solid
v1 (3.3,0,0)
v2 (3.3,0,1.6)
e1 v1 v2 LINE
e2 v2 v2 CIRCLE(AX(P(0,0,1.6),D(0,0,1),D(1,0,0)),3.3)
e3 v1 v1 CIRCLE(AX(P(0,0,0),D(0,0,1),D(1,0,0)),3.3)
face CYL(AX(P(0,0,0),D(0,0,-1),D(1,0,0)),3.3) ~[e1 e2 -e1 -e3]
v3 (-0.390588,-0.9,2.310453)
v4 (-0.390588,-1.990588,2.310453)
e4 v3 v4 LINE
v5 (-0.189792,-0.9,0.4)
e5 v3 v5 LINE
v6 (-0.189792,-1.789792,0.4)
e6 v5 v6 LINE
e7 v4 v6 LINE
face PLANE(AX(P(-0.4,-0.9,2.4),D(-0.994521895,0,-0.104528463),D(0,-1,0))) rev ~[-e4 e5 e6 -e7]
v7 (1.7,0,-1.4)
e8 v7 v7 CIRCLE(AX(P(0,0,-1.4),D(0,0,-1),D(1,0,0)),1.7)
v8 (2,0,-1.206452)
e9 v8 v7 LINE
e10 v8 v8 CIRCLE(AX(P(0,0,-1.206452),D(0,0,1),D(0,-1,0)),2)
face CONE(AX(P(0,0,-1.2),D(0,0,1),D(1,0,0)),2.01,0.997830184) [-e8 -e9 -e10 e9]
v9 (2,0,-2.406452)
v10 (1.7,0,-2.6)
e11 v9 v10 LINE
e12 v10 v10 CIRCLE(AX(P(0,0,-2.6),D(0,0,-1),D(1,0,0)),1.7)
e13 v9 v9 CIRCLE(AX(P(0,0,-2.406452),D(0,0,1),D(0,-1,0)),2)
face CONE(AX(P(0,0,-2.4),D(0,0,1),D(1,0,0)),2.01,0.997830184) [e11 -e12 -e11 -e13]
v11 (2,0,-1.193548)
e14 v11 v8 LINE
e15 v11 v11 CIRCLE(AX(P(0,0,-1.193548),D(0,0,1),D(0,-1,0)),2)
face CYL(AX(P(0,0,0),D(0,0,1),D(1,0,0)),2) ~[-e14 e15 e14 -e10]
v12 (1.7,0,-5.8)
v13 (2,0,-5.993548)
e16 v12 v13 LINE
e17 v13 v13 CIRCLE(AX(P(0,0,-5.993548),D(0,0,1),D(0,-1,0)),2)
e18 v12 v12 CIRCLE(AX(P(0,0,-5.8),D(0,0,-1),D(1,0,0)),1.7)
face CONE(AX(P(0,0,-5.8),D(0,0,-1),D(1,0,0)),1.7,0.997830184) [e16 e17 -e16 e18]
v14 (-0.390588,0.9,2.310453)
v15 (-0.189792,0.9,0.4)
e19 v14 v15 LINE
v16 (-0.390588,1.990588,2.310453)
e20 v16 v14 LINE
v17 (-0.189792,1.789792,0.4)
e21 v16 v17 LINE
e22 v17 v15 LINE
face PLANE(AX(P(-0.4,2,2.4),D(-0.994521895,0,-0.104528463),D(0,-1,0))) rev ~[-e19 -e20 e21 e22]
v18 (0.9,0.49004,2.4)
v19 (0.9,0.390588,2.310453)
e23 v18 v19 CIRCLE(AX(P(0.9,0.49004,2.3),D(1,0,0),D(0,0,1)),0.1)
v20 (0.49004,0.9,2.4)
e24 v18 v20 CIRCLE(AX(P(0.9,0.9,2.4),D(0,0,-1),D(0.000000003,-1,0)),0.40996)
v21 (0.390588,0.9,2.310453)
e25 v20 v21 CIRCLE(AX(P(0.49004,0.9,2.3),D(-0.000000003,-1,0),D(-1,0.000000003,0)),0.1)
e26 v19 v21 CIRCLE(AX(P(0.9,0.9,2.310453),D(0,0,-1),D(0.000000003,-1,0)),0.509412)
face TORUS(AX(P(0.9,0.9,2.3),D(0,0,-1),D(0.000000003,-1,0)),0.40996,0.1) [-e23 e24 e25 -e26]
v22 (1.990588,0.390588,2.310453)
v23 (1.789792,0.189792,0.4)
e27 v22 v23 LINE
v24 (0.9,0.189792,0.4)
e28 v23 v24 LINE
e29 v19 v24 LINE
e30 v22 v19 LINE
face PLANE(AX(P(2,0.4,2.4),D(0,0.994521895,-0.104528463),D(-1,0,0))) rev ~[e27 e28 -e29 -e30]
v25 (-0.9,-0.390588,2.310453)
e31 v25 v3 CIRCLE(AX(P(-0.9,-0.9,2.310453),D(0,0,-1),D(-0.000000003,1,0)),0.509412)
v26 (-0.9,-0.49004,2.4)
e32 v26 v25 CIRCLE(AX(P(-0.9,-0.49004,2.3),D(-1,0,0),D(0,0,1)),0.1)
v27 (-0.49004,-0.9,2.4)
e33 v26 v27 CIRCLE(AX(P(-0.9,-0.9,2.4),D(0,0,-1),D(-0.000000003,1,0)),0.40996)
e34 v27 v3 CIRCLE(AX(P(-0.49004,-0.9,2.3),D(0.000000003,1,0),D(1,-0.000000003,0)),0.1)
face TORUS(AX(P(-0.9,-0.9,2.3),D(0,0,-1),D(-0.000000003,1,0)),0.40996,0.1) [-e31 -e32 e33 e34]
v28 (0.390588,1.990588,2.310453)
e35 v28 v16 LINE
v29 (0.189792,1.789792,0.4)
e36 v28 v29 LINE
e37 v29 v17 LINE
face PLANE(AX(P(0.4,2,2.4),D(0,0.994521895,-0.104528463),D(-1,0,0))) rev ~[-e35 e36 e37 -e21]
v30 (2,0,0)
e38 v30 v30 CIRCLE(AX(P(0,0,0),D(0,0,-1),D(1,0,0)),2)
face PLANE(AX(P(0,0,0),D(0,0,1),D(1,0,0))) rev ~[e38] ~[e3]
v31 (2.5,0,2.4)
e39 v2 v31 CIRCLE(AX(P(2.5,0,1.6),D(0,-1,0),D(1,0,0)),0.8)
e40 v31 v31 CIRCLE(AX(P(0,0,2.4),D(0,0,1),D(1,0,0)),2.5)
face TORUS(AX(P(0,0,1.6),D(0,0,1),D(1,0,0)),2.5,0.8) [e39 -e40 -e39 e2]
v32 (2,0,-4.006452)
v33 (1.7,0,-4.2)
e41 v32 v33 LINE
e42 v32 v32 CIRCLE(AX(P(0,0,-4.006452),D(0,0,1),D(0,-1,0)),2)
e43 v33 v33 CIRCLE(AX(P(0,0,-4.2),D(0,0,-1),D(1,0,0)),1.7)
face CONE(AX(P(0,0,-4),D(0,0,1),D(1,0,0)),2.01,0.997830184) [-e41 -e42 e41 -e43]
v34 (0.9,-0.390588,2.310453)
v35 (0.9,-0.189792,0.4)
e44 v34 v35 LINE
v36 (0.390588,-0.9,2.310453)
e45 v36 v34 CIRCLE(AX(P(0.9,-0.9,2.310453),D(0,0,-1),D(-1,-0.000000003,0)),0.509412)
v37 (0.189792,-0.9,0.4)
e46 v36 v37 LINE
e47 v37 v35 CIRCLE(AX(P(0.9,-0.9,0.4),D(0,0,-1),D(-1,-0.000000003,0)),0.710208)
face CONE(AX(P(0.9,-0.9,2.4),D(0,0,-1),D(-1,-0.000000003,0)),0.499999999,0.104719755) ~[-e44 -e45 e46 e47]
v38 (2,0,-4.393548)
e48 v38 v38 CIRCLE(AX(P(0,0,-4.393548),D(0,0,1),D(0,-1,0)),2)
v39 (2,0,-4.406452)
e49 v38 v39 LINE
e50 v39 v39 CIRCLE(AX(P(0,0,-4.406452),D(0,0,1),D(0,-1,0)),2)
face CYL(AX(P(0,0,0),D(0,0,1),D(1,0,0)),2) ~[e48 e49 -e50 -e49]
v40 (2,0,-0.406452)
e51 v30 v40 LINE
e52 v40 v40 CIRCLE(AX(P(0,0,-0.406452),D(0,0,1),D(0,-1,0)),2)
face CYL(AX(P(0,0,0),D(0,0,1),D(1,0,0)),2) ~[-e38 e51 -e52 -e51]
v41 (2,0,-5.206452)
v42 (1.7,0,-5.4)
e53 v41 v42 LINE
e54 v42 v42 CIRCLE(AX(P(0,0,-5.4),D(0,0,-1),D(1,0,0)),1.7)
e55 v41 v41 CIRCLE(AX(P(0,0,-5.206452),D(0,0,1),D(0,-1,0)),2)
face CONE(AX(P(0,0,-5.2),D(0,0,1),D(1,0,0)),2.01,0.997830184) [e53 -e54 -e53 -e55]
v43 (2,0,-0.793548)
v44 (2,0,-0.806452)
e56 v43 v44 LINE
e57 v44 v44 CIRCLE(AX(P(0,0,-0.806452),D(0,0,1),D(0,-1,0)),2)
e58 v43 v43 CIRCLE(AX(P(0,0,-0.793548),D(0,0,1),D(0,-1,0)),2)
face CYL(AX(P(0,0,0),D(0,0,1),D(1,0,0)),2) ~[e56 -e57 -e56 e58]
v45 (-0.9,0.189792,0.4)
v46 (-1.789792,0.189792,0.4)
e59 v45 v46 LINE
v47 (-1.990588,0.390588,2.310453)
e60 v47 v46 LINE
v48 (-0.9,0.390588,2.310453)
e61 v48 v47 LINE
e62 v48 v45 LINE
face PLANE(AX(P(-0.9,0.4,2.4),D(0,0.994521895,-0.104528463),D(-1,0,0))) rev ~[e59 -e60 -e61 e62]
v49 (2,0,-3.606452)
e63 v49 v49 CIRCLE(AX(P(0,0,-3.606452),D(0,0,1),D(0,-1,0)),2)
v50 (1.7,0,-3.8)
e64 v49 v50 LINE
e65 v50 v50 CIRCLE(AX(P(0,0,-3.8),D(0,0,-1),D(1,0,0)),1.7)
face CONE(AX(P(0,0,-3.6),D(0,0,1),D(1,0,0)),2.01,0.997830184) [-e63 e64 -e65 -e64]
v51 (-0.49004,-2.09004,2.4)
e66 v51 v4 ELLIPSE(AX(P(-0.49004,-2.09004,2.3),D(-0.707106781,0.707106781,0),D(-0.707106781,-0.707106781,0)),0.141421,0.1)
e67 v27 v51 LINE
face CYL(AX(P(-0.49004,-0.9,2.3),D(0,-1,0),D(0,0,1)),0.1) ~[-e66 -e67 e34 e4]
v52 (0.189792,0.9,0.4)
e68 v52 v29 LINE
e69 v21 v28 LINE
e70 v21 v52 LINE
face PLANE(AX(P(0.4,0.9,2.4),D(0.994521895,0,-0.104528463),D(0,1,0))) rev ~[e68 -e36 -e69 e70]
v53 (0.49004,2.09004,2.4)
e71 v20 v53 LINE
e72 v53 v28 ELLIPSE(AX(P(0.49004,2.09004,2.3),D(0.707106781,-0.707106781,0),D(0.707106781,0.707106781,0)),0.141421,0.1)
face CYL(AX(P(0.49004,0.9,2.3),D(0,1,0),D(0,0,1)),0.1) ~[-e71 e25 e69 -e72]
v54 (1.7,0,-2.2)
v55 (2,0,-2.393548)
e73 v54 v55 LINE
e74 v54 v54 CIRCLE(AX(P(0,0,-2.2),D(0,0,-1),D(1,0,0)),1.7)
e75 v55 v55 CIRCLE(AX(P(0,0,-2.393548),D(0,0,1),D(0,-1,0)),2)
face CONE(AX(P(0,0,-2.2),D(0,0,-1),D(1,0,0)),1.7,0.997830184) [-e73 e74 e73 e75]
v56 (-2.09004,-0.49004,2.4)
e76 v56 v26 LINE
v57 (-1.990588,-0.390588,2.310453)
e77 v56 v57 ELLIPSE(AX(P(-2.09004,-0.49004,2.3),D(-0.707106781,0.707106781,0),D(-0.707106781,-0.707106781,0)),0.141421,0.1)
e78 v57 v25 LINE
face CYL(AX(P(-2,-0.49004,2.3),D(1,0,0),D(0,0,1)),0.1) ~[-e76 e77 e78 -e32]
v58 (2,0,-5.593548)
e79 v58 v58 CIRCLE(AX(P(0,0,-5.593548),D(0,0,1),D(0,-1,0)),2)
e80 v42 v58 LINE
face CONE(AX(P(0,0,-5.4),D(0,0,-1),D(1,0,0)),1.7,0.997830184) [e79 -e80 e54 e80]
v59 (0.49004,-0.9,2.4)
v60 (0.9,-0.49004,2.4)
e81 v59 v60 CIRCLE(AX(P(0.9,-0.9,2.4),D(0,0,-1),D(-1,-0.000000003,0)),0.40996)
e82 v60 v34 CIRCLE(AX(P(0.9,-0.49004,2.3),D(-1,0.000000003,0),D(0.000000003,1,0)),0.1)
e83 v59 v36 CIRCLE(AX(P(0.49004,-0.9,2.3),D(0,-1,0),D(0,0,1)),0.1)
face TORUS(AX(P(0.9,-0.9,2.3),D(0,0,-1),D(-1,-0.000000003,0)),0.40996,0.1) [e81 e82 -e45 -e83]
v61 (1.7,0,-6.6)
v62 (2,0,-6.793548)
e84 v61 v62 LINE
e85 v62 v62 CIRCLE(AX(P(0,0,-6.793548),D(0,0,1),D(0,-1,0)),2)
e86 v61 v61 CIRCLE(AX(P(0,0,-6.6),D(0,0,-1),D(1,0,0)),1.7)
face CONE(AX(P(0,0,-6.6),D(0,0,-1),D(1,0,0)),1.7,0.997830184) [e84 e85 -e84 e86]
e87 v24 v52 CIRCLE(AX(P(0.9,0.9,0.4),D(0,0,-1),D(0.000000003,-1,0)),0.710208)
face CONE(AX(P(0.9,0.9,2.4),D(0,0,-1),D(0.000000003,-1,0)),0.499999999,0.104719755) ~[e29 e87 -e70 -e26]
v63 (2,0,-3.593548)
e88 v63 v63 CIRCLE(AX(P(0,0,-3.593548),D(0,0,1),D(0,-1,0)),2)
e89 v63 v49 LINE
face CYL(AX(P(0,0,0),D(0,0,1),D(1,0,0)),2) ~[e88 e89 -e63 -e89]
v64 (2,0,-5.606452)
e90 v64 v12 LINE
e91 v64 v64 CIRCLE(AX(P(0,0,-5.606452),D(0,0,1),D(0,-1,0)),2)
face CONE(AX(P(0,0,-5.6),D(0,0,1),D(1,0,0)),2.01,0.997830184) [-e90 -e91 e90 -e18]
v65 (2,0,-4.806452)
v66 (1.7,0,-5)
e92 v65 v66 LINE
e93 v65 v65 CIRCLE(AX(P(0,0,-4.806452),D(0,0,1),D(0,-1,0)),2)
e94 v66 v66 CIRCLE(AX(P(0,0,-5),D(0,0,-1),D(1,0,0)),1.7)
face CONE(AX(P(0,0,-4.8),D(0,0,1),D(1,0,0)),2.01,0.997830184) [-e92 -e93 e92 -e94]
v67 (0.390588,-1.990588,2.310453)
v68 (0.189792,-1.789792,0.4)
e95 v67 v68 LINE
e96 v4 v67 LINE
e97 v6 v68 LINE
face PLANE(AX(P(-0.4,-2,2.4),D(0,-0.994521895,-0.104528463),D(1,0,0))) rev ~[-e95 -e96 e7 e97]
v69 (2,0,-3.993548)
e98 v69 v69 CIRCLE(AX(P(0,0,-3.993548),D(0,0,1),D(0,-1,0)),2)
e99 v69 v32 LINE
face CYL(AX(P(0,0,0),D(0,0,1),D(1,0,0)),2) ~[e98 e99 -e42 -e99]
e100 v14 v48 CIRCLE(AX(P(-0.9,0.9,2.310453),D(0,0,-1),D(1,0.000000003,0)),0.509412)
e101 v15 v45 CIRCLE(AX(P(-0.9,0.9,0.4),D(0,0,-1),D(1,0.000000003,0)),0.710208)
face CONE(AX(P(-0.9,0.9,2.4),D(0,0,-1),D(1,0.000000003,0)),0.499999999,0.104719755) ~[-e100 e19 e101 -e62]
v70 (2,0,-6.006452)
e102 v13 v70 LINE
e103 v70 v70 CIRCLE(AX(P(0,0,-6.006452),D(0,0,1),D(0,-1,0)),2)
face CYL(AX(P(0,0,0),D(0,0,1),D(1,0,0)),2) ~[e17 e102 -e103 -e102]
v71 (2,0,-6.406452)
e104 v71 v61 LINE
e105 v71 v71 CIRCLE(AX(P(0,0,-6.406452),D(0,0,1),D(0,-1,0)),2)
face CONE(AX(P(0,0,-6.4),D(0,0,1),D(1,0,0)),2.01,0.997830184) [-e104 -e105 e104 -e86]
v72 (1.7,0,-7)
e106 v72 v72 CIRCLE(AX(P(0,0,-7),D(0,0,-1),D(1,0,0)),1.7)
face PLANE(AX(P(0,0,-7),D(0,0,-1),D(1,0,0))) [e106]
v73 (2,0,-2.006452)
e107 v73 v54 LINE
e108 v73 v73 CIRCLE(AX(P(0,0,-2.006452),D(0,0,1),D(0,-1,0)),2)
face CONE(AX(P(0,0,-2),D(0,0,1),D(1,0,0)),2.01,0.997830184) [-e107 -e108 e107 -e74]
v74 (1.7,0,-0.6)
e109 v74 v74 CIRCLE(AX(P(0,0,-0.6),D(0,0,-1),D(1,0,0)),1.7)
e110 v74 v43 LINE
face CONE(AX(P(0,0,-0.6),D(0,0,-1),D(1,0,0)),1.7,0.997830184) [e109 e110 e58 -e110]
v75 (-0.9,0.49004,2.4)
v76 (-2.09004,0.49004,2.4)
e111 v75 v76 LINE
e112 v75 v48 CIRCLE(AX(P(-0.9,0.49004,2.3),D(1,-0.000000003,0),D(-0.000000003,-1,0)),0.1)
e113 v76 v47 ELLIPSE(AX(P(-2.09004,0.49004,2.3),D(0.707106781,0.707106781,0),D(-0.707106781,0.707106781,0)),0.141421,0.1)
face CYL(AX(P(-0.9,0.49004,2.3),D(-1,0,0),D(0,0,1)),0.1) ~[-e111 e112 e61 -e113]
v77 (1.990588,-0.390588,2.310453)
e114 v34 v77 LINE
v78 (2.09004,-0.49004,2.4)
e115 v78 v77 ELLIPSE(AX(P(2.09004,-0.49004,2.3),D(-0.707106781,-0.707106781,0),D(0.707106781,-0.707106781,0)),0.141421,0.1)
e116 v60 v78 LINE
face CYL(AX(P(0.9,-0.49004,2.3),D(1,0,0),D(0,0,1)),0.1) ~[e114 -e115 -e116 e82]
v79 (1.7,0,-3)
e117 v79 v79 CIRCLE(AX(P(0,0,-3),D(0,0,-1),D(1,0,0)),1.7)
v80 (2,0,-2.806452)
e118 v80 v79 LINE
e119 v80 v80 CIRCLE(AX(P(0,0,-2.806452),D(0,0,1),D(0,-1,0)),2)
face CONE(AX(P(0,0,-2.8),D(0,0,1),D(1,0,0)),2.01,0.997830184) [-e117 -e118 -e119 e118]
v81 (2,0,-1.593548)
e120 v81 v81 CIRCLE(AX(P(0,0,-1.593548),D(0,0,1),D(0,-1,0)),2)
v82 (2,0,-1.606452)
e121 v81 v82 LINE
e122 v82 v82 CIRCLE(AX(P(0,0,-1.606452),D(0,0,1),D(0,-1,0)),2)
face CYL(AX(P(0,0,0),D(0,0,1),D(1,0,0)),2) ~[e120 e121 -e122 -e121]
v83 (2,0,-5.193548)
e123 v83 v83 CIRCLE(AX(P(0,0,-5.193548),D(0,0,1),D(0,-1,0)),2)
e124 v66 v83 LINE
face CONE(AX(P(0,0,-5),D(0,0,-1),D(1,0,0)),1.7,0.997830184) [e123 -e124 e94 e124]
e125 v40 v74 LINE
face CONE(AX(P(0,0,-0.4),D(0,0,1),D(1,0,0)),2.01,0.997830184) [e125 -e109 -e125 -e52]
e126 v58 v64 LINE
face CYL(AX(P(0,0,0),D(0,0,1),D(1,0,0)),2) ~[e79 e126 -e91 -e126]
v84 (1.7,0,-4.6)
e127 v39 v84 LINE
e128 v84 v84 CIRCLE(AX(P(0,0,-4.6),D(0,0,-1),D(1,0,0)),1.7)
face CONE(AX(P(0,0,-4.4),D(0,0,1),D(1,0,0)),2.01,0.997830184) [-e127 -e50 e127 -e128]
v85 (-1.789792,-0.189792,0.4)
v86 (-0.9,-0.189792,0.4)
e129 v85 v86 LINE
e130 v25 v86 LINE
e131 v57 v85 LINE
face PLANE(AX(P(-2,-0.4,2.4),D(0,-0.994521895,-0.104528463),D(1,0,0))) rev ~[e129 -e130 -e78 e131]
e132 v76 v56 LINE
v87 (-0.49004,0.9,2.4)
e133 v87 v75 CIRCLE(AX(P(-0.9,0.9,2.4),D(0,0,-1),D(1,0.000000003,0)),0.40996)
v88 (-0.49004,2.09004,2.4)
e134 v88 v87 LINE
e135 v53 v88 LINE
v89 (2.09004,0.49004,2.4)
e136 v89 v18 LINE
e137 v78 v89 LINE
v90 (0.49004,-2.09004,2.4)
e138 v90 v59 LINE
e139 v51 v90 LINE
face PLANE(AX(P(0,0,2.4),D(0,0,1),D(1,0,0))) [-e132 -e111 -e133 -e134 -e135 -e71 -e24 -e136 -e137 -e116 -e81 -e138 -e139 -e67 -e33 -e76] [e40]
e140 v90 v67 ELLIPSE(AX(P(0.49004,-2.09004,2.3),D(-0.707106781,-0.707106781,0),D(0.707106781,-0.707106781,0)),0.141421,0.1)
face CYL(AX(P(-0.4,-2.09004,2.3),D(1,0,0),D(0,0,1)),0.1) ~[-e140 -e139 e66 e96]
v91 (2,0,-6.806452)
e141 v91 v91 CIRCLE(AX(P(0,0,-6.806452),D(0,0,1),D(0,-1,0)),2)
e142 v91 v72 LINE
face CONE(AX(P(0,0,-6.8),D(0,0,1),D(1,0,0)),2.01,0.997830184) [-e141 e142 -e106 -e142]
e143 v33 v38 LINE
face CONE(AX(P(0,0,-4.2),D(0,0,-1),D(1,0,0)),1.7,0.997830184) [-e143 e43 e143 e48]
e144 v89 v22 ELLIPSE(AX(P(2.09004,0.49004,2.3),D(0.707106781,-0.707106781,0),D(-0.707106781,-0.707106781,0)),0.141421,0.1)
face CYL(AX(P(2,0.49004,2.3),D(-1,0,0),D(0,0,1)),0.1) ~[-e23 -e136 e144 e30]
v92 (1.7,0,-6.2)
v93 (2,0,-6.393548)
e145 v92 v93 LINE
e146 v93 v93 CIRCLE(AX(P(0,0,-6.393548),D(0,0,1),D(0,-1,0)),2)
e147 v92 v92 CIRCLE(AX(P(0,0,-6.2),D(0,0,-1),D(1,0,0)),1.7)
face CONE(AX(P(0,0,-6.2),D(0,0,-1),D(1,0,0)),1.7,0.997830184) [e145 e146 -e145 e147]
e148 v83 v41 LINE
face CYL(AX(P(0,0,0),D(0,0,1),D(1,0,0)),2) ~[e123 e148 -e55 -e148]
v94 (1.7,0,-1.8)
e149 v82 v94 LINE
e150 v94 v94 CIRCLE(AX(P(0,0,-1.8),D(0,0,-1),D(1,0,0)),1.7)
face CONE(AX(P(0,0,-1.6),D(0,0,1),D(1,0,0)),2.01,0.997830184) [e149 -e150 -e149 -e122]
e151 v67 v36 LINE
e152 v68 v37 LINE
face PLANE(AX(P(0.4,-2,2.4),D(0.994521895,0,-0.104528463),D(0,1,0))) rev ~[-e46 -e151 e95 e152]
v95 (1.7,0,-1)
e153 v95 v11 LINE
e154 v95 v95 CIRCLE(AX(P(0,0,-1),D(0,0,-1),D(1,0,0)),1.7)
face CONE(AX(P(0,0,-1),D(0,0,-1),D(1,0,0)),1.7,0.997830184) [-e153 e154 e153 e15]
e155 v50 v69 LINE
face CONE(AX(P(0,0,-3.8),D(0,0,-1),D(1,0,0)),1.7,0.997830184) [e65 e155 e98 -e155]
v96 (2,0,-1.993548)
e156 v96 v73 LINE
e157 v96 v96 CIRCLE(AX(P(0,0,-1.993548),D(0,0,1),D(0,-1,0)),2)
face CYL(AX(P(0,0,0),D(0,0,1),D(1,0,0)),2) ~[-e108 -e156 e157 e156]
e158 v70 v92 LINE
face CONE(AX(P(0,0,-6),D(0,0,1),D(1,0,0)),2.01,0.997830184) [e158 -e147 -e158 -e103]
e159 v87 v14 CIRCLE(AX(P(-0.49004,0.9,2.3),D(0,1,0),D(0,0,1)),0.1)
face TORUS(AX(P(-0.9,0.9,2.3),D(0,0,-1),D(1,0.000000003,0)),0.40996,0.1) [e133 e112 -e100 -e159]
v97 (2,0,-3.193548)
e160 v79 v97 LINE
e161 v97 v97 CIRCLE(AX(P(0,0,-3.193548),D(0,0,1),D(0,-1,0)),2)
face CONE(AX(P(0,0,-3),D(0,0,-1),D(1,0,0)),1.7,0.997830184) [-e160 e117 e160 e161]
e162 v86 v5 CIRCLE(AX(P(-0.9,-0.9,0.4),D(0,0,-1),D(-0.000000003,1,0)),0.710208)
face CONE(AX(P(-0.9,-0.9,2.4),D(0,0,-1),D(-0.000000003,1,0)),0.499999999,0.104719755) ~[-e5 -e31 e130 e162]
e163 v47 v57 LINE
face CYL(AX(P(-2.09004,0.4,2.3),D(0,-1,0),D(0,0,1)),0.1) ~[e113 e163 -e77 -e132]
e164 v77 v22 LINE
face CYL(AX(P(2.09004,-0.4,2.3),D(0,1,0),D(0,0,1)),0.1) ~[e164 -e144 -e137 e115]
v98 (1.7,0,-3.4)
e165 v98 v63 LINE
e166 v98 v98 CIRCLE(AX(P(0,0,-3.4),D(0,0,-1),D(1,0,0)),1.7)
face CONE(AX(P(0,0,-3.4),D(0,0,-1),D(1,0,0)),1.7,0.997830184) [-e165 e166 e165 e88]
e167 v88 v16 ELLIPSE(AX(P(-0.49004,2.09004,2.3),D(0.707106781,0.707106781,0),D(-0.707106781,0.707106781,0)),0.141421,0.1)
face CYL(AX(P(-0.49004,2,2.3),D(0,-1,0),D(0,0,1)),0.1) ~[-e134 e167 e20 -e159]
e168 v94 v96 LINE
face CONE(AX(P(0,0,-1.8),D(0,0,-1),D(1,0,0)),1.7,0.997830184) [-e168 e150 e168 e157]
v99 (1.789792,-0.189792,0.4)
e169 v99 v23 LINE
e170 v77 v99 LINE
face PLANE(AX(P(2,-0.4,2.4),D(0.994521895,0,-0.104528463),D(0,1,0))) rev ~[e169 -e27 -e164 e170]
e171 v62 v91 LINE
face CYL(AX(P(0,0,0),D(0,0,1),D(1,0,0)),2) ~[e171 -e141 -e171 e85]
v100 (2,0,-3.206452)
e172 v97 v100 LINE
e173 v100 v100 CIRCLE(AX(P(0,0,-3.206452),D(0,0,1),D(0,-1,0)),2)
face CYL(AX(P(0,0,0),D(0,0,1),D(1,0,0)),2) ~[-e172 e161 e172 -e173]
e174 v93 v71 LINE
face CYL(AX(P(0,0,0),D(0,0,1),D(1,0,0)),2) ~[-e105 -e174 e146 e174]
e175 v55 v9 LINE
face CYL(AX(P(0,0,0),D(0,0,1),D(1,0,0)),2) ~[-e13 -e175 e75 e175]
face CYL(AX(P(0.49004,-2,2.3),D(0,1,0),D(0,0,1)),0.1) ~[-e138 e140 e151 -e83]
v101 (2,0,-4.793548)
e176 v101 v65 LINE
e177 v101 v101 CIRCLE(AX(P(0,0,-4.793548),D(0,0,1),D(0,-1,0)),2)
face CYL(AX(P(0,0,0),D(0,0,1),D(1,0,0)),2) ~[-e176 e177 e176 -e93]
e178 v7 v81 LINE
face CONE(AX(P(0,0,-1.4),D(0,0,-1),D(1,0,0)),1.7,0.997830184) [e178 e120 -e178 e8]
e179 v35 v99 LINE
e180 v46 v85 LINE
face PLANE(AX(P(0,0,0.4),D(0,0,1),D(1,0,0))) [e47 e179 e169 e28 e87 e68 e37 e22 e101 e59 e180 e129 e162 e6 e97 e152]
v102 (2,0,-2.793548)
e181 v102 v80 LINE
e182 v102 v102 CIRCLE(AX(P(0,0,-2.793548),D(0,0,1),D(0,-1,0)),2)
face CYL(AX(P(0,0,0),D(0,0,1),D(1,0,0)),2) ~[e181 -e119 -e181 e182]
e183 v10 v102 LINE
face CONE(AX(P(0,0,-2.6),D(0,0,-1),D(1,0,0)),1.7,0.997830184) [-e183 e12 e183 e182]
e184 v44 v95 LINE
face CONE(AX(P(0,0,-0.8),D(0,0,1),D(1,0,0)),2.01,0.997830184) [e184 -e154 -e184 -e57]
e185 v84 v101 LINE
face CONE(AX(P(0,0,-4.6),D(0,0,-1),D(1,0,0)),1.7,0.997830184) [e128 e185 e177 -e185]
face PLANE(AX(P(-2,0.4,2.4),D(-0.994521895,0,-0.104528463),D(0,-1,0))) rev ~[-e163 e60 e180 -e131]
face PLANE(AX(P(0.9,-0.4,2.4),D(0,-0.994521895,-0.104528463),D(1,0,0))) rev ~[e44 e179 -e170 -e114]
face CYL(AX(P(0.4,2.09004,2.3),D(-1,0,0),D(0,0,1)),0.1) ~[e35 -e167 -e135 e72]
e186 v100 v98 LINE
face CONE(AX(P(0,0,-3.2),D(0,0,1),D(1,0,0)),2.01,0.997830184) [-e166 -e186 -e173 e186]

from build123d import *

# Parameters (mm, degrees)
SKETCH1_R           = 3.3
BOSS_EXTRUDE1_DEPTH = 2.4
FILLET1_R           = 0.8
SKETCH2_R           = 2
BOSS_EXTRUDE2_DEPTH = 7
CUT_EXTRUDE1_DEPTH  = 2
CUT_EXTRUDE1_DRAFT  = -6
FILLET2_R           = 0.1
LPATTERN1_COUNT     = 17
LPATTERN1_PITCH     = 0.4


with BuildPart() as part:
    # Sketch1 → Boss-Extrude1 (new body)
    with BuildSketch(Plane.XY):
        Circle(SKETCH1_R)
    extrude(amount=BOSS_EXTRUDE1_DEPTH)

    # Fillet1
    fillet1_edges = [part.edges().sort_by_distance(p)[0] for p in [
        (-3.3, 0, 2.4),
    ]]
    fillet(fillet1_edges, radius=FILLET1_R)

    # Sketch2 → Boss-Extrude2 (add)
    with BuildSketch(Plane(origin=(0, 0, 0), x_dir=(-1, 0, 0), z_dir=(0, 0, -1))):
        with Locations(Location((0, 0, 0), (0, 0, 180))):
            Circle(SKETCH2_R)
    extrude(amount=BOSS_EXTRUDE2_DEPTH)


with BuildPart() as cut_extrude1_tool:
    # Sketch4 → Cut-Extrude1 (with draft: the straight prism first)
    with BuildSketch(Plane.XY.offset(2.4)):
        with BuildLine():
            Line((-0.4, -2), (0.4, -2))
            Line((0.4, -2), (0.4, -0.9))
            ThreePointArc((0.4, -0.9), (0.546446609, -0.546446609), (0.9, -0.4))
            Line((0.9, -0.4), (2, -0.4))
            Line((2, -0.4), (2, 0.4))
            Line((2, 0.4), (0.9, 0.4))
            ThreePointArc((0.9, 0.4), (0.546446609, 0.546446609), (0.4, 0.9))
            Line((0.4, 0.9), (0.4, 2))
            Line((0.4, 2), (-0.4, 2))
            Line((-0.4, 2), (-0.4, 0.9))
            ThreePointArc((-0.4, 0.9), (-0.546446609, 0.546446609), (-0.9, 0.4))
            Line((-0.9, 0.4), (-2, 0.4))
            Line((-2, 0.4), (-2, -0.4))
            Line((-2, -0.4), (-0.9, -0.4))
            ThreePointArc((-0.9, -0.4), (-0.546446609, -0.546446609), (-0.4, -0.9))
            Line((-0.4, -0.9), (-0.4, -2))
        make_face()
    extrude(amount=-CUT_EXTRUDE1_DEPTH)
    # Cut-Extrude1: the draft: its side faces are tilted about the plane it starts from
    cut_extrude1_sides = [cut_extrude1_tool.faces().sort_by_distance(p)[0] for p in [
        (-0.4, -1.45, 1.4),
        (0, -2, 1.4),
        (0.4, -1.45, 1.4),
        (0.546446609, -0.546446609, 1.4),
        (1.45, -0.4, 1.4),
        (2, 0, 1.4),
        (1.45, 0.4, 1.4),
        (0.546446609, 0.546446609, 1.4),
        (0.4, 1.45, 1.4),
        (0, 2, 1.4),
        (-0.4, 1.45, 1.4),
        (-0.546446609, 0.546446609, 1.4),
        (-1.45, 0.4, 1.4),
        (-2, 0, 1.4),
        (-1.45, -0.4, 1.4),
        (-0.546446609, -0.546446609, 1.4),
    ]]
    draft(cut_extrude1_sides, Plane.XY.offset(2.4), CUT_EXTRUDE1_DRAFT)


with BuildPart() as part_1:
    add(part.part)

    # Cut-Extrude1: cut by cut_extrude1_tool
    add(cut_extrude1_tool.part, mode=Mode.SUBTRACT)

    # Fillet2
    fillet2_edges = [part_1.edges().sort_by_distance(p)[0] for p in [
        (0.4, 1.45, 2.4),
        (0, 2, 2.4),
        (-0.4, 1.45, 2.4),
        (-0.546446609, 0.546446609, 2.4),
        (-1.45, 0.4, 2.4),
        (-2, 0, 2.4),
        (-1.45, -0.4, 2.4),
        (-0.546446609, -0.546446609, 2.4),
        (-0.4, -1.45, 2.4),
        (0, -2, 2.4),
        (0.4, -1.45, 2.4),
        (0.546446609, -0.546446609, 2.4),
        (1.45, -0.4, 2.4),
        (2, 0, 2.4),
        (1.45, 0.4, 2.4),
        (0.546446609, 0.546446609, 2.4),
    ]]
    fillet(fillet2_edges, radius=FILLET2_R)

    # Sketch5 → Cut-Revolve1 (revolve, cut)
    with BuildSketch(Plane(origin=(0, 0, 0), x_dir=(0, 0, -1), z_dir=(1, 0, 0)), mode=Mode.PRIVATE) as cut_revolve1_sk:
        Polygon((7, 1.7), (7.2, 2.01), (6.8, 2.01), align=None)
    cut_revolve1 = revolve(cut_revolve1_sk.sketch.rotate(Axis((0, 0, 0), (0, 0, -1)), 90), axis=Axis((0, 0, 0), (0, 0, -1)), mode=Mode.SUBTRACT)

    # LPattern1: Cut-Revolve1 ×17
    with Locations(*[(0, 0, i * LPATTERN1_PITCH) for i in range(1, LPATTERN1_COUNT)]):
        add(cut_revolve1, mode=Mode.SUBTRACT)


solid = part_1.part
